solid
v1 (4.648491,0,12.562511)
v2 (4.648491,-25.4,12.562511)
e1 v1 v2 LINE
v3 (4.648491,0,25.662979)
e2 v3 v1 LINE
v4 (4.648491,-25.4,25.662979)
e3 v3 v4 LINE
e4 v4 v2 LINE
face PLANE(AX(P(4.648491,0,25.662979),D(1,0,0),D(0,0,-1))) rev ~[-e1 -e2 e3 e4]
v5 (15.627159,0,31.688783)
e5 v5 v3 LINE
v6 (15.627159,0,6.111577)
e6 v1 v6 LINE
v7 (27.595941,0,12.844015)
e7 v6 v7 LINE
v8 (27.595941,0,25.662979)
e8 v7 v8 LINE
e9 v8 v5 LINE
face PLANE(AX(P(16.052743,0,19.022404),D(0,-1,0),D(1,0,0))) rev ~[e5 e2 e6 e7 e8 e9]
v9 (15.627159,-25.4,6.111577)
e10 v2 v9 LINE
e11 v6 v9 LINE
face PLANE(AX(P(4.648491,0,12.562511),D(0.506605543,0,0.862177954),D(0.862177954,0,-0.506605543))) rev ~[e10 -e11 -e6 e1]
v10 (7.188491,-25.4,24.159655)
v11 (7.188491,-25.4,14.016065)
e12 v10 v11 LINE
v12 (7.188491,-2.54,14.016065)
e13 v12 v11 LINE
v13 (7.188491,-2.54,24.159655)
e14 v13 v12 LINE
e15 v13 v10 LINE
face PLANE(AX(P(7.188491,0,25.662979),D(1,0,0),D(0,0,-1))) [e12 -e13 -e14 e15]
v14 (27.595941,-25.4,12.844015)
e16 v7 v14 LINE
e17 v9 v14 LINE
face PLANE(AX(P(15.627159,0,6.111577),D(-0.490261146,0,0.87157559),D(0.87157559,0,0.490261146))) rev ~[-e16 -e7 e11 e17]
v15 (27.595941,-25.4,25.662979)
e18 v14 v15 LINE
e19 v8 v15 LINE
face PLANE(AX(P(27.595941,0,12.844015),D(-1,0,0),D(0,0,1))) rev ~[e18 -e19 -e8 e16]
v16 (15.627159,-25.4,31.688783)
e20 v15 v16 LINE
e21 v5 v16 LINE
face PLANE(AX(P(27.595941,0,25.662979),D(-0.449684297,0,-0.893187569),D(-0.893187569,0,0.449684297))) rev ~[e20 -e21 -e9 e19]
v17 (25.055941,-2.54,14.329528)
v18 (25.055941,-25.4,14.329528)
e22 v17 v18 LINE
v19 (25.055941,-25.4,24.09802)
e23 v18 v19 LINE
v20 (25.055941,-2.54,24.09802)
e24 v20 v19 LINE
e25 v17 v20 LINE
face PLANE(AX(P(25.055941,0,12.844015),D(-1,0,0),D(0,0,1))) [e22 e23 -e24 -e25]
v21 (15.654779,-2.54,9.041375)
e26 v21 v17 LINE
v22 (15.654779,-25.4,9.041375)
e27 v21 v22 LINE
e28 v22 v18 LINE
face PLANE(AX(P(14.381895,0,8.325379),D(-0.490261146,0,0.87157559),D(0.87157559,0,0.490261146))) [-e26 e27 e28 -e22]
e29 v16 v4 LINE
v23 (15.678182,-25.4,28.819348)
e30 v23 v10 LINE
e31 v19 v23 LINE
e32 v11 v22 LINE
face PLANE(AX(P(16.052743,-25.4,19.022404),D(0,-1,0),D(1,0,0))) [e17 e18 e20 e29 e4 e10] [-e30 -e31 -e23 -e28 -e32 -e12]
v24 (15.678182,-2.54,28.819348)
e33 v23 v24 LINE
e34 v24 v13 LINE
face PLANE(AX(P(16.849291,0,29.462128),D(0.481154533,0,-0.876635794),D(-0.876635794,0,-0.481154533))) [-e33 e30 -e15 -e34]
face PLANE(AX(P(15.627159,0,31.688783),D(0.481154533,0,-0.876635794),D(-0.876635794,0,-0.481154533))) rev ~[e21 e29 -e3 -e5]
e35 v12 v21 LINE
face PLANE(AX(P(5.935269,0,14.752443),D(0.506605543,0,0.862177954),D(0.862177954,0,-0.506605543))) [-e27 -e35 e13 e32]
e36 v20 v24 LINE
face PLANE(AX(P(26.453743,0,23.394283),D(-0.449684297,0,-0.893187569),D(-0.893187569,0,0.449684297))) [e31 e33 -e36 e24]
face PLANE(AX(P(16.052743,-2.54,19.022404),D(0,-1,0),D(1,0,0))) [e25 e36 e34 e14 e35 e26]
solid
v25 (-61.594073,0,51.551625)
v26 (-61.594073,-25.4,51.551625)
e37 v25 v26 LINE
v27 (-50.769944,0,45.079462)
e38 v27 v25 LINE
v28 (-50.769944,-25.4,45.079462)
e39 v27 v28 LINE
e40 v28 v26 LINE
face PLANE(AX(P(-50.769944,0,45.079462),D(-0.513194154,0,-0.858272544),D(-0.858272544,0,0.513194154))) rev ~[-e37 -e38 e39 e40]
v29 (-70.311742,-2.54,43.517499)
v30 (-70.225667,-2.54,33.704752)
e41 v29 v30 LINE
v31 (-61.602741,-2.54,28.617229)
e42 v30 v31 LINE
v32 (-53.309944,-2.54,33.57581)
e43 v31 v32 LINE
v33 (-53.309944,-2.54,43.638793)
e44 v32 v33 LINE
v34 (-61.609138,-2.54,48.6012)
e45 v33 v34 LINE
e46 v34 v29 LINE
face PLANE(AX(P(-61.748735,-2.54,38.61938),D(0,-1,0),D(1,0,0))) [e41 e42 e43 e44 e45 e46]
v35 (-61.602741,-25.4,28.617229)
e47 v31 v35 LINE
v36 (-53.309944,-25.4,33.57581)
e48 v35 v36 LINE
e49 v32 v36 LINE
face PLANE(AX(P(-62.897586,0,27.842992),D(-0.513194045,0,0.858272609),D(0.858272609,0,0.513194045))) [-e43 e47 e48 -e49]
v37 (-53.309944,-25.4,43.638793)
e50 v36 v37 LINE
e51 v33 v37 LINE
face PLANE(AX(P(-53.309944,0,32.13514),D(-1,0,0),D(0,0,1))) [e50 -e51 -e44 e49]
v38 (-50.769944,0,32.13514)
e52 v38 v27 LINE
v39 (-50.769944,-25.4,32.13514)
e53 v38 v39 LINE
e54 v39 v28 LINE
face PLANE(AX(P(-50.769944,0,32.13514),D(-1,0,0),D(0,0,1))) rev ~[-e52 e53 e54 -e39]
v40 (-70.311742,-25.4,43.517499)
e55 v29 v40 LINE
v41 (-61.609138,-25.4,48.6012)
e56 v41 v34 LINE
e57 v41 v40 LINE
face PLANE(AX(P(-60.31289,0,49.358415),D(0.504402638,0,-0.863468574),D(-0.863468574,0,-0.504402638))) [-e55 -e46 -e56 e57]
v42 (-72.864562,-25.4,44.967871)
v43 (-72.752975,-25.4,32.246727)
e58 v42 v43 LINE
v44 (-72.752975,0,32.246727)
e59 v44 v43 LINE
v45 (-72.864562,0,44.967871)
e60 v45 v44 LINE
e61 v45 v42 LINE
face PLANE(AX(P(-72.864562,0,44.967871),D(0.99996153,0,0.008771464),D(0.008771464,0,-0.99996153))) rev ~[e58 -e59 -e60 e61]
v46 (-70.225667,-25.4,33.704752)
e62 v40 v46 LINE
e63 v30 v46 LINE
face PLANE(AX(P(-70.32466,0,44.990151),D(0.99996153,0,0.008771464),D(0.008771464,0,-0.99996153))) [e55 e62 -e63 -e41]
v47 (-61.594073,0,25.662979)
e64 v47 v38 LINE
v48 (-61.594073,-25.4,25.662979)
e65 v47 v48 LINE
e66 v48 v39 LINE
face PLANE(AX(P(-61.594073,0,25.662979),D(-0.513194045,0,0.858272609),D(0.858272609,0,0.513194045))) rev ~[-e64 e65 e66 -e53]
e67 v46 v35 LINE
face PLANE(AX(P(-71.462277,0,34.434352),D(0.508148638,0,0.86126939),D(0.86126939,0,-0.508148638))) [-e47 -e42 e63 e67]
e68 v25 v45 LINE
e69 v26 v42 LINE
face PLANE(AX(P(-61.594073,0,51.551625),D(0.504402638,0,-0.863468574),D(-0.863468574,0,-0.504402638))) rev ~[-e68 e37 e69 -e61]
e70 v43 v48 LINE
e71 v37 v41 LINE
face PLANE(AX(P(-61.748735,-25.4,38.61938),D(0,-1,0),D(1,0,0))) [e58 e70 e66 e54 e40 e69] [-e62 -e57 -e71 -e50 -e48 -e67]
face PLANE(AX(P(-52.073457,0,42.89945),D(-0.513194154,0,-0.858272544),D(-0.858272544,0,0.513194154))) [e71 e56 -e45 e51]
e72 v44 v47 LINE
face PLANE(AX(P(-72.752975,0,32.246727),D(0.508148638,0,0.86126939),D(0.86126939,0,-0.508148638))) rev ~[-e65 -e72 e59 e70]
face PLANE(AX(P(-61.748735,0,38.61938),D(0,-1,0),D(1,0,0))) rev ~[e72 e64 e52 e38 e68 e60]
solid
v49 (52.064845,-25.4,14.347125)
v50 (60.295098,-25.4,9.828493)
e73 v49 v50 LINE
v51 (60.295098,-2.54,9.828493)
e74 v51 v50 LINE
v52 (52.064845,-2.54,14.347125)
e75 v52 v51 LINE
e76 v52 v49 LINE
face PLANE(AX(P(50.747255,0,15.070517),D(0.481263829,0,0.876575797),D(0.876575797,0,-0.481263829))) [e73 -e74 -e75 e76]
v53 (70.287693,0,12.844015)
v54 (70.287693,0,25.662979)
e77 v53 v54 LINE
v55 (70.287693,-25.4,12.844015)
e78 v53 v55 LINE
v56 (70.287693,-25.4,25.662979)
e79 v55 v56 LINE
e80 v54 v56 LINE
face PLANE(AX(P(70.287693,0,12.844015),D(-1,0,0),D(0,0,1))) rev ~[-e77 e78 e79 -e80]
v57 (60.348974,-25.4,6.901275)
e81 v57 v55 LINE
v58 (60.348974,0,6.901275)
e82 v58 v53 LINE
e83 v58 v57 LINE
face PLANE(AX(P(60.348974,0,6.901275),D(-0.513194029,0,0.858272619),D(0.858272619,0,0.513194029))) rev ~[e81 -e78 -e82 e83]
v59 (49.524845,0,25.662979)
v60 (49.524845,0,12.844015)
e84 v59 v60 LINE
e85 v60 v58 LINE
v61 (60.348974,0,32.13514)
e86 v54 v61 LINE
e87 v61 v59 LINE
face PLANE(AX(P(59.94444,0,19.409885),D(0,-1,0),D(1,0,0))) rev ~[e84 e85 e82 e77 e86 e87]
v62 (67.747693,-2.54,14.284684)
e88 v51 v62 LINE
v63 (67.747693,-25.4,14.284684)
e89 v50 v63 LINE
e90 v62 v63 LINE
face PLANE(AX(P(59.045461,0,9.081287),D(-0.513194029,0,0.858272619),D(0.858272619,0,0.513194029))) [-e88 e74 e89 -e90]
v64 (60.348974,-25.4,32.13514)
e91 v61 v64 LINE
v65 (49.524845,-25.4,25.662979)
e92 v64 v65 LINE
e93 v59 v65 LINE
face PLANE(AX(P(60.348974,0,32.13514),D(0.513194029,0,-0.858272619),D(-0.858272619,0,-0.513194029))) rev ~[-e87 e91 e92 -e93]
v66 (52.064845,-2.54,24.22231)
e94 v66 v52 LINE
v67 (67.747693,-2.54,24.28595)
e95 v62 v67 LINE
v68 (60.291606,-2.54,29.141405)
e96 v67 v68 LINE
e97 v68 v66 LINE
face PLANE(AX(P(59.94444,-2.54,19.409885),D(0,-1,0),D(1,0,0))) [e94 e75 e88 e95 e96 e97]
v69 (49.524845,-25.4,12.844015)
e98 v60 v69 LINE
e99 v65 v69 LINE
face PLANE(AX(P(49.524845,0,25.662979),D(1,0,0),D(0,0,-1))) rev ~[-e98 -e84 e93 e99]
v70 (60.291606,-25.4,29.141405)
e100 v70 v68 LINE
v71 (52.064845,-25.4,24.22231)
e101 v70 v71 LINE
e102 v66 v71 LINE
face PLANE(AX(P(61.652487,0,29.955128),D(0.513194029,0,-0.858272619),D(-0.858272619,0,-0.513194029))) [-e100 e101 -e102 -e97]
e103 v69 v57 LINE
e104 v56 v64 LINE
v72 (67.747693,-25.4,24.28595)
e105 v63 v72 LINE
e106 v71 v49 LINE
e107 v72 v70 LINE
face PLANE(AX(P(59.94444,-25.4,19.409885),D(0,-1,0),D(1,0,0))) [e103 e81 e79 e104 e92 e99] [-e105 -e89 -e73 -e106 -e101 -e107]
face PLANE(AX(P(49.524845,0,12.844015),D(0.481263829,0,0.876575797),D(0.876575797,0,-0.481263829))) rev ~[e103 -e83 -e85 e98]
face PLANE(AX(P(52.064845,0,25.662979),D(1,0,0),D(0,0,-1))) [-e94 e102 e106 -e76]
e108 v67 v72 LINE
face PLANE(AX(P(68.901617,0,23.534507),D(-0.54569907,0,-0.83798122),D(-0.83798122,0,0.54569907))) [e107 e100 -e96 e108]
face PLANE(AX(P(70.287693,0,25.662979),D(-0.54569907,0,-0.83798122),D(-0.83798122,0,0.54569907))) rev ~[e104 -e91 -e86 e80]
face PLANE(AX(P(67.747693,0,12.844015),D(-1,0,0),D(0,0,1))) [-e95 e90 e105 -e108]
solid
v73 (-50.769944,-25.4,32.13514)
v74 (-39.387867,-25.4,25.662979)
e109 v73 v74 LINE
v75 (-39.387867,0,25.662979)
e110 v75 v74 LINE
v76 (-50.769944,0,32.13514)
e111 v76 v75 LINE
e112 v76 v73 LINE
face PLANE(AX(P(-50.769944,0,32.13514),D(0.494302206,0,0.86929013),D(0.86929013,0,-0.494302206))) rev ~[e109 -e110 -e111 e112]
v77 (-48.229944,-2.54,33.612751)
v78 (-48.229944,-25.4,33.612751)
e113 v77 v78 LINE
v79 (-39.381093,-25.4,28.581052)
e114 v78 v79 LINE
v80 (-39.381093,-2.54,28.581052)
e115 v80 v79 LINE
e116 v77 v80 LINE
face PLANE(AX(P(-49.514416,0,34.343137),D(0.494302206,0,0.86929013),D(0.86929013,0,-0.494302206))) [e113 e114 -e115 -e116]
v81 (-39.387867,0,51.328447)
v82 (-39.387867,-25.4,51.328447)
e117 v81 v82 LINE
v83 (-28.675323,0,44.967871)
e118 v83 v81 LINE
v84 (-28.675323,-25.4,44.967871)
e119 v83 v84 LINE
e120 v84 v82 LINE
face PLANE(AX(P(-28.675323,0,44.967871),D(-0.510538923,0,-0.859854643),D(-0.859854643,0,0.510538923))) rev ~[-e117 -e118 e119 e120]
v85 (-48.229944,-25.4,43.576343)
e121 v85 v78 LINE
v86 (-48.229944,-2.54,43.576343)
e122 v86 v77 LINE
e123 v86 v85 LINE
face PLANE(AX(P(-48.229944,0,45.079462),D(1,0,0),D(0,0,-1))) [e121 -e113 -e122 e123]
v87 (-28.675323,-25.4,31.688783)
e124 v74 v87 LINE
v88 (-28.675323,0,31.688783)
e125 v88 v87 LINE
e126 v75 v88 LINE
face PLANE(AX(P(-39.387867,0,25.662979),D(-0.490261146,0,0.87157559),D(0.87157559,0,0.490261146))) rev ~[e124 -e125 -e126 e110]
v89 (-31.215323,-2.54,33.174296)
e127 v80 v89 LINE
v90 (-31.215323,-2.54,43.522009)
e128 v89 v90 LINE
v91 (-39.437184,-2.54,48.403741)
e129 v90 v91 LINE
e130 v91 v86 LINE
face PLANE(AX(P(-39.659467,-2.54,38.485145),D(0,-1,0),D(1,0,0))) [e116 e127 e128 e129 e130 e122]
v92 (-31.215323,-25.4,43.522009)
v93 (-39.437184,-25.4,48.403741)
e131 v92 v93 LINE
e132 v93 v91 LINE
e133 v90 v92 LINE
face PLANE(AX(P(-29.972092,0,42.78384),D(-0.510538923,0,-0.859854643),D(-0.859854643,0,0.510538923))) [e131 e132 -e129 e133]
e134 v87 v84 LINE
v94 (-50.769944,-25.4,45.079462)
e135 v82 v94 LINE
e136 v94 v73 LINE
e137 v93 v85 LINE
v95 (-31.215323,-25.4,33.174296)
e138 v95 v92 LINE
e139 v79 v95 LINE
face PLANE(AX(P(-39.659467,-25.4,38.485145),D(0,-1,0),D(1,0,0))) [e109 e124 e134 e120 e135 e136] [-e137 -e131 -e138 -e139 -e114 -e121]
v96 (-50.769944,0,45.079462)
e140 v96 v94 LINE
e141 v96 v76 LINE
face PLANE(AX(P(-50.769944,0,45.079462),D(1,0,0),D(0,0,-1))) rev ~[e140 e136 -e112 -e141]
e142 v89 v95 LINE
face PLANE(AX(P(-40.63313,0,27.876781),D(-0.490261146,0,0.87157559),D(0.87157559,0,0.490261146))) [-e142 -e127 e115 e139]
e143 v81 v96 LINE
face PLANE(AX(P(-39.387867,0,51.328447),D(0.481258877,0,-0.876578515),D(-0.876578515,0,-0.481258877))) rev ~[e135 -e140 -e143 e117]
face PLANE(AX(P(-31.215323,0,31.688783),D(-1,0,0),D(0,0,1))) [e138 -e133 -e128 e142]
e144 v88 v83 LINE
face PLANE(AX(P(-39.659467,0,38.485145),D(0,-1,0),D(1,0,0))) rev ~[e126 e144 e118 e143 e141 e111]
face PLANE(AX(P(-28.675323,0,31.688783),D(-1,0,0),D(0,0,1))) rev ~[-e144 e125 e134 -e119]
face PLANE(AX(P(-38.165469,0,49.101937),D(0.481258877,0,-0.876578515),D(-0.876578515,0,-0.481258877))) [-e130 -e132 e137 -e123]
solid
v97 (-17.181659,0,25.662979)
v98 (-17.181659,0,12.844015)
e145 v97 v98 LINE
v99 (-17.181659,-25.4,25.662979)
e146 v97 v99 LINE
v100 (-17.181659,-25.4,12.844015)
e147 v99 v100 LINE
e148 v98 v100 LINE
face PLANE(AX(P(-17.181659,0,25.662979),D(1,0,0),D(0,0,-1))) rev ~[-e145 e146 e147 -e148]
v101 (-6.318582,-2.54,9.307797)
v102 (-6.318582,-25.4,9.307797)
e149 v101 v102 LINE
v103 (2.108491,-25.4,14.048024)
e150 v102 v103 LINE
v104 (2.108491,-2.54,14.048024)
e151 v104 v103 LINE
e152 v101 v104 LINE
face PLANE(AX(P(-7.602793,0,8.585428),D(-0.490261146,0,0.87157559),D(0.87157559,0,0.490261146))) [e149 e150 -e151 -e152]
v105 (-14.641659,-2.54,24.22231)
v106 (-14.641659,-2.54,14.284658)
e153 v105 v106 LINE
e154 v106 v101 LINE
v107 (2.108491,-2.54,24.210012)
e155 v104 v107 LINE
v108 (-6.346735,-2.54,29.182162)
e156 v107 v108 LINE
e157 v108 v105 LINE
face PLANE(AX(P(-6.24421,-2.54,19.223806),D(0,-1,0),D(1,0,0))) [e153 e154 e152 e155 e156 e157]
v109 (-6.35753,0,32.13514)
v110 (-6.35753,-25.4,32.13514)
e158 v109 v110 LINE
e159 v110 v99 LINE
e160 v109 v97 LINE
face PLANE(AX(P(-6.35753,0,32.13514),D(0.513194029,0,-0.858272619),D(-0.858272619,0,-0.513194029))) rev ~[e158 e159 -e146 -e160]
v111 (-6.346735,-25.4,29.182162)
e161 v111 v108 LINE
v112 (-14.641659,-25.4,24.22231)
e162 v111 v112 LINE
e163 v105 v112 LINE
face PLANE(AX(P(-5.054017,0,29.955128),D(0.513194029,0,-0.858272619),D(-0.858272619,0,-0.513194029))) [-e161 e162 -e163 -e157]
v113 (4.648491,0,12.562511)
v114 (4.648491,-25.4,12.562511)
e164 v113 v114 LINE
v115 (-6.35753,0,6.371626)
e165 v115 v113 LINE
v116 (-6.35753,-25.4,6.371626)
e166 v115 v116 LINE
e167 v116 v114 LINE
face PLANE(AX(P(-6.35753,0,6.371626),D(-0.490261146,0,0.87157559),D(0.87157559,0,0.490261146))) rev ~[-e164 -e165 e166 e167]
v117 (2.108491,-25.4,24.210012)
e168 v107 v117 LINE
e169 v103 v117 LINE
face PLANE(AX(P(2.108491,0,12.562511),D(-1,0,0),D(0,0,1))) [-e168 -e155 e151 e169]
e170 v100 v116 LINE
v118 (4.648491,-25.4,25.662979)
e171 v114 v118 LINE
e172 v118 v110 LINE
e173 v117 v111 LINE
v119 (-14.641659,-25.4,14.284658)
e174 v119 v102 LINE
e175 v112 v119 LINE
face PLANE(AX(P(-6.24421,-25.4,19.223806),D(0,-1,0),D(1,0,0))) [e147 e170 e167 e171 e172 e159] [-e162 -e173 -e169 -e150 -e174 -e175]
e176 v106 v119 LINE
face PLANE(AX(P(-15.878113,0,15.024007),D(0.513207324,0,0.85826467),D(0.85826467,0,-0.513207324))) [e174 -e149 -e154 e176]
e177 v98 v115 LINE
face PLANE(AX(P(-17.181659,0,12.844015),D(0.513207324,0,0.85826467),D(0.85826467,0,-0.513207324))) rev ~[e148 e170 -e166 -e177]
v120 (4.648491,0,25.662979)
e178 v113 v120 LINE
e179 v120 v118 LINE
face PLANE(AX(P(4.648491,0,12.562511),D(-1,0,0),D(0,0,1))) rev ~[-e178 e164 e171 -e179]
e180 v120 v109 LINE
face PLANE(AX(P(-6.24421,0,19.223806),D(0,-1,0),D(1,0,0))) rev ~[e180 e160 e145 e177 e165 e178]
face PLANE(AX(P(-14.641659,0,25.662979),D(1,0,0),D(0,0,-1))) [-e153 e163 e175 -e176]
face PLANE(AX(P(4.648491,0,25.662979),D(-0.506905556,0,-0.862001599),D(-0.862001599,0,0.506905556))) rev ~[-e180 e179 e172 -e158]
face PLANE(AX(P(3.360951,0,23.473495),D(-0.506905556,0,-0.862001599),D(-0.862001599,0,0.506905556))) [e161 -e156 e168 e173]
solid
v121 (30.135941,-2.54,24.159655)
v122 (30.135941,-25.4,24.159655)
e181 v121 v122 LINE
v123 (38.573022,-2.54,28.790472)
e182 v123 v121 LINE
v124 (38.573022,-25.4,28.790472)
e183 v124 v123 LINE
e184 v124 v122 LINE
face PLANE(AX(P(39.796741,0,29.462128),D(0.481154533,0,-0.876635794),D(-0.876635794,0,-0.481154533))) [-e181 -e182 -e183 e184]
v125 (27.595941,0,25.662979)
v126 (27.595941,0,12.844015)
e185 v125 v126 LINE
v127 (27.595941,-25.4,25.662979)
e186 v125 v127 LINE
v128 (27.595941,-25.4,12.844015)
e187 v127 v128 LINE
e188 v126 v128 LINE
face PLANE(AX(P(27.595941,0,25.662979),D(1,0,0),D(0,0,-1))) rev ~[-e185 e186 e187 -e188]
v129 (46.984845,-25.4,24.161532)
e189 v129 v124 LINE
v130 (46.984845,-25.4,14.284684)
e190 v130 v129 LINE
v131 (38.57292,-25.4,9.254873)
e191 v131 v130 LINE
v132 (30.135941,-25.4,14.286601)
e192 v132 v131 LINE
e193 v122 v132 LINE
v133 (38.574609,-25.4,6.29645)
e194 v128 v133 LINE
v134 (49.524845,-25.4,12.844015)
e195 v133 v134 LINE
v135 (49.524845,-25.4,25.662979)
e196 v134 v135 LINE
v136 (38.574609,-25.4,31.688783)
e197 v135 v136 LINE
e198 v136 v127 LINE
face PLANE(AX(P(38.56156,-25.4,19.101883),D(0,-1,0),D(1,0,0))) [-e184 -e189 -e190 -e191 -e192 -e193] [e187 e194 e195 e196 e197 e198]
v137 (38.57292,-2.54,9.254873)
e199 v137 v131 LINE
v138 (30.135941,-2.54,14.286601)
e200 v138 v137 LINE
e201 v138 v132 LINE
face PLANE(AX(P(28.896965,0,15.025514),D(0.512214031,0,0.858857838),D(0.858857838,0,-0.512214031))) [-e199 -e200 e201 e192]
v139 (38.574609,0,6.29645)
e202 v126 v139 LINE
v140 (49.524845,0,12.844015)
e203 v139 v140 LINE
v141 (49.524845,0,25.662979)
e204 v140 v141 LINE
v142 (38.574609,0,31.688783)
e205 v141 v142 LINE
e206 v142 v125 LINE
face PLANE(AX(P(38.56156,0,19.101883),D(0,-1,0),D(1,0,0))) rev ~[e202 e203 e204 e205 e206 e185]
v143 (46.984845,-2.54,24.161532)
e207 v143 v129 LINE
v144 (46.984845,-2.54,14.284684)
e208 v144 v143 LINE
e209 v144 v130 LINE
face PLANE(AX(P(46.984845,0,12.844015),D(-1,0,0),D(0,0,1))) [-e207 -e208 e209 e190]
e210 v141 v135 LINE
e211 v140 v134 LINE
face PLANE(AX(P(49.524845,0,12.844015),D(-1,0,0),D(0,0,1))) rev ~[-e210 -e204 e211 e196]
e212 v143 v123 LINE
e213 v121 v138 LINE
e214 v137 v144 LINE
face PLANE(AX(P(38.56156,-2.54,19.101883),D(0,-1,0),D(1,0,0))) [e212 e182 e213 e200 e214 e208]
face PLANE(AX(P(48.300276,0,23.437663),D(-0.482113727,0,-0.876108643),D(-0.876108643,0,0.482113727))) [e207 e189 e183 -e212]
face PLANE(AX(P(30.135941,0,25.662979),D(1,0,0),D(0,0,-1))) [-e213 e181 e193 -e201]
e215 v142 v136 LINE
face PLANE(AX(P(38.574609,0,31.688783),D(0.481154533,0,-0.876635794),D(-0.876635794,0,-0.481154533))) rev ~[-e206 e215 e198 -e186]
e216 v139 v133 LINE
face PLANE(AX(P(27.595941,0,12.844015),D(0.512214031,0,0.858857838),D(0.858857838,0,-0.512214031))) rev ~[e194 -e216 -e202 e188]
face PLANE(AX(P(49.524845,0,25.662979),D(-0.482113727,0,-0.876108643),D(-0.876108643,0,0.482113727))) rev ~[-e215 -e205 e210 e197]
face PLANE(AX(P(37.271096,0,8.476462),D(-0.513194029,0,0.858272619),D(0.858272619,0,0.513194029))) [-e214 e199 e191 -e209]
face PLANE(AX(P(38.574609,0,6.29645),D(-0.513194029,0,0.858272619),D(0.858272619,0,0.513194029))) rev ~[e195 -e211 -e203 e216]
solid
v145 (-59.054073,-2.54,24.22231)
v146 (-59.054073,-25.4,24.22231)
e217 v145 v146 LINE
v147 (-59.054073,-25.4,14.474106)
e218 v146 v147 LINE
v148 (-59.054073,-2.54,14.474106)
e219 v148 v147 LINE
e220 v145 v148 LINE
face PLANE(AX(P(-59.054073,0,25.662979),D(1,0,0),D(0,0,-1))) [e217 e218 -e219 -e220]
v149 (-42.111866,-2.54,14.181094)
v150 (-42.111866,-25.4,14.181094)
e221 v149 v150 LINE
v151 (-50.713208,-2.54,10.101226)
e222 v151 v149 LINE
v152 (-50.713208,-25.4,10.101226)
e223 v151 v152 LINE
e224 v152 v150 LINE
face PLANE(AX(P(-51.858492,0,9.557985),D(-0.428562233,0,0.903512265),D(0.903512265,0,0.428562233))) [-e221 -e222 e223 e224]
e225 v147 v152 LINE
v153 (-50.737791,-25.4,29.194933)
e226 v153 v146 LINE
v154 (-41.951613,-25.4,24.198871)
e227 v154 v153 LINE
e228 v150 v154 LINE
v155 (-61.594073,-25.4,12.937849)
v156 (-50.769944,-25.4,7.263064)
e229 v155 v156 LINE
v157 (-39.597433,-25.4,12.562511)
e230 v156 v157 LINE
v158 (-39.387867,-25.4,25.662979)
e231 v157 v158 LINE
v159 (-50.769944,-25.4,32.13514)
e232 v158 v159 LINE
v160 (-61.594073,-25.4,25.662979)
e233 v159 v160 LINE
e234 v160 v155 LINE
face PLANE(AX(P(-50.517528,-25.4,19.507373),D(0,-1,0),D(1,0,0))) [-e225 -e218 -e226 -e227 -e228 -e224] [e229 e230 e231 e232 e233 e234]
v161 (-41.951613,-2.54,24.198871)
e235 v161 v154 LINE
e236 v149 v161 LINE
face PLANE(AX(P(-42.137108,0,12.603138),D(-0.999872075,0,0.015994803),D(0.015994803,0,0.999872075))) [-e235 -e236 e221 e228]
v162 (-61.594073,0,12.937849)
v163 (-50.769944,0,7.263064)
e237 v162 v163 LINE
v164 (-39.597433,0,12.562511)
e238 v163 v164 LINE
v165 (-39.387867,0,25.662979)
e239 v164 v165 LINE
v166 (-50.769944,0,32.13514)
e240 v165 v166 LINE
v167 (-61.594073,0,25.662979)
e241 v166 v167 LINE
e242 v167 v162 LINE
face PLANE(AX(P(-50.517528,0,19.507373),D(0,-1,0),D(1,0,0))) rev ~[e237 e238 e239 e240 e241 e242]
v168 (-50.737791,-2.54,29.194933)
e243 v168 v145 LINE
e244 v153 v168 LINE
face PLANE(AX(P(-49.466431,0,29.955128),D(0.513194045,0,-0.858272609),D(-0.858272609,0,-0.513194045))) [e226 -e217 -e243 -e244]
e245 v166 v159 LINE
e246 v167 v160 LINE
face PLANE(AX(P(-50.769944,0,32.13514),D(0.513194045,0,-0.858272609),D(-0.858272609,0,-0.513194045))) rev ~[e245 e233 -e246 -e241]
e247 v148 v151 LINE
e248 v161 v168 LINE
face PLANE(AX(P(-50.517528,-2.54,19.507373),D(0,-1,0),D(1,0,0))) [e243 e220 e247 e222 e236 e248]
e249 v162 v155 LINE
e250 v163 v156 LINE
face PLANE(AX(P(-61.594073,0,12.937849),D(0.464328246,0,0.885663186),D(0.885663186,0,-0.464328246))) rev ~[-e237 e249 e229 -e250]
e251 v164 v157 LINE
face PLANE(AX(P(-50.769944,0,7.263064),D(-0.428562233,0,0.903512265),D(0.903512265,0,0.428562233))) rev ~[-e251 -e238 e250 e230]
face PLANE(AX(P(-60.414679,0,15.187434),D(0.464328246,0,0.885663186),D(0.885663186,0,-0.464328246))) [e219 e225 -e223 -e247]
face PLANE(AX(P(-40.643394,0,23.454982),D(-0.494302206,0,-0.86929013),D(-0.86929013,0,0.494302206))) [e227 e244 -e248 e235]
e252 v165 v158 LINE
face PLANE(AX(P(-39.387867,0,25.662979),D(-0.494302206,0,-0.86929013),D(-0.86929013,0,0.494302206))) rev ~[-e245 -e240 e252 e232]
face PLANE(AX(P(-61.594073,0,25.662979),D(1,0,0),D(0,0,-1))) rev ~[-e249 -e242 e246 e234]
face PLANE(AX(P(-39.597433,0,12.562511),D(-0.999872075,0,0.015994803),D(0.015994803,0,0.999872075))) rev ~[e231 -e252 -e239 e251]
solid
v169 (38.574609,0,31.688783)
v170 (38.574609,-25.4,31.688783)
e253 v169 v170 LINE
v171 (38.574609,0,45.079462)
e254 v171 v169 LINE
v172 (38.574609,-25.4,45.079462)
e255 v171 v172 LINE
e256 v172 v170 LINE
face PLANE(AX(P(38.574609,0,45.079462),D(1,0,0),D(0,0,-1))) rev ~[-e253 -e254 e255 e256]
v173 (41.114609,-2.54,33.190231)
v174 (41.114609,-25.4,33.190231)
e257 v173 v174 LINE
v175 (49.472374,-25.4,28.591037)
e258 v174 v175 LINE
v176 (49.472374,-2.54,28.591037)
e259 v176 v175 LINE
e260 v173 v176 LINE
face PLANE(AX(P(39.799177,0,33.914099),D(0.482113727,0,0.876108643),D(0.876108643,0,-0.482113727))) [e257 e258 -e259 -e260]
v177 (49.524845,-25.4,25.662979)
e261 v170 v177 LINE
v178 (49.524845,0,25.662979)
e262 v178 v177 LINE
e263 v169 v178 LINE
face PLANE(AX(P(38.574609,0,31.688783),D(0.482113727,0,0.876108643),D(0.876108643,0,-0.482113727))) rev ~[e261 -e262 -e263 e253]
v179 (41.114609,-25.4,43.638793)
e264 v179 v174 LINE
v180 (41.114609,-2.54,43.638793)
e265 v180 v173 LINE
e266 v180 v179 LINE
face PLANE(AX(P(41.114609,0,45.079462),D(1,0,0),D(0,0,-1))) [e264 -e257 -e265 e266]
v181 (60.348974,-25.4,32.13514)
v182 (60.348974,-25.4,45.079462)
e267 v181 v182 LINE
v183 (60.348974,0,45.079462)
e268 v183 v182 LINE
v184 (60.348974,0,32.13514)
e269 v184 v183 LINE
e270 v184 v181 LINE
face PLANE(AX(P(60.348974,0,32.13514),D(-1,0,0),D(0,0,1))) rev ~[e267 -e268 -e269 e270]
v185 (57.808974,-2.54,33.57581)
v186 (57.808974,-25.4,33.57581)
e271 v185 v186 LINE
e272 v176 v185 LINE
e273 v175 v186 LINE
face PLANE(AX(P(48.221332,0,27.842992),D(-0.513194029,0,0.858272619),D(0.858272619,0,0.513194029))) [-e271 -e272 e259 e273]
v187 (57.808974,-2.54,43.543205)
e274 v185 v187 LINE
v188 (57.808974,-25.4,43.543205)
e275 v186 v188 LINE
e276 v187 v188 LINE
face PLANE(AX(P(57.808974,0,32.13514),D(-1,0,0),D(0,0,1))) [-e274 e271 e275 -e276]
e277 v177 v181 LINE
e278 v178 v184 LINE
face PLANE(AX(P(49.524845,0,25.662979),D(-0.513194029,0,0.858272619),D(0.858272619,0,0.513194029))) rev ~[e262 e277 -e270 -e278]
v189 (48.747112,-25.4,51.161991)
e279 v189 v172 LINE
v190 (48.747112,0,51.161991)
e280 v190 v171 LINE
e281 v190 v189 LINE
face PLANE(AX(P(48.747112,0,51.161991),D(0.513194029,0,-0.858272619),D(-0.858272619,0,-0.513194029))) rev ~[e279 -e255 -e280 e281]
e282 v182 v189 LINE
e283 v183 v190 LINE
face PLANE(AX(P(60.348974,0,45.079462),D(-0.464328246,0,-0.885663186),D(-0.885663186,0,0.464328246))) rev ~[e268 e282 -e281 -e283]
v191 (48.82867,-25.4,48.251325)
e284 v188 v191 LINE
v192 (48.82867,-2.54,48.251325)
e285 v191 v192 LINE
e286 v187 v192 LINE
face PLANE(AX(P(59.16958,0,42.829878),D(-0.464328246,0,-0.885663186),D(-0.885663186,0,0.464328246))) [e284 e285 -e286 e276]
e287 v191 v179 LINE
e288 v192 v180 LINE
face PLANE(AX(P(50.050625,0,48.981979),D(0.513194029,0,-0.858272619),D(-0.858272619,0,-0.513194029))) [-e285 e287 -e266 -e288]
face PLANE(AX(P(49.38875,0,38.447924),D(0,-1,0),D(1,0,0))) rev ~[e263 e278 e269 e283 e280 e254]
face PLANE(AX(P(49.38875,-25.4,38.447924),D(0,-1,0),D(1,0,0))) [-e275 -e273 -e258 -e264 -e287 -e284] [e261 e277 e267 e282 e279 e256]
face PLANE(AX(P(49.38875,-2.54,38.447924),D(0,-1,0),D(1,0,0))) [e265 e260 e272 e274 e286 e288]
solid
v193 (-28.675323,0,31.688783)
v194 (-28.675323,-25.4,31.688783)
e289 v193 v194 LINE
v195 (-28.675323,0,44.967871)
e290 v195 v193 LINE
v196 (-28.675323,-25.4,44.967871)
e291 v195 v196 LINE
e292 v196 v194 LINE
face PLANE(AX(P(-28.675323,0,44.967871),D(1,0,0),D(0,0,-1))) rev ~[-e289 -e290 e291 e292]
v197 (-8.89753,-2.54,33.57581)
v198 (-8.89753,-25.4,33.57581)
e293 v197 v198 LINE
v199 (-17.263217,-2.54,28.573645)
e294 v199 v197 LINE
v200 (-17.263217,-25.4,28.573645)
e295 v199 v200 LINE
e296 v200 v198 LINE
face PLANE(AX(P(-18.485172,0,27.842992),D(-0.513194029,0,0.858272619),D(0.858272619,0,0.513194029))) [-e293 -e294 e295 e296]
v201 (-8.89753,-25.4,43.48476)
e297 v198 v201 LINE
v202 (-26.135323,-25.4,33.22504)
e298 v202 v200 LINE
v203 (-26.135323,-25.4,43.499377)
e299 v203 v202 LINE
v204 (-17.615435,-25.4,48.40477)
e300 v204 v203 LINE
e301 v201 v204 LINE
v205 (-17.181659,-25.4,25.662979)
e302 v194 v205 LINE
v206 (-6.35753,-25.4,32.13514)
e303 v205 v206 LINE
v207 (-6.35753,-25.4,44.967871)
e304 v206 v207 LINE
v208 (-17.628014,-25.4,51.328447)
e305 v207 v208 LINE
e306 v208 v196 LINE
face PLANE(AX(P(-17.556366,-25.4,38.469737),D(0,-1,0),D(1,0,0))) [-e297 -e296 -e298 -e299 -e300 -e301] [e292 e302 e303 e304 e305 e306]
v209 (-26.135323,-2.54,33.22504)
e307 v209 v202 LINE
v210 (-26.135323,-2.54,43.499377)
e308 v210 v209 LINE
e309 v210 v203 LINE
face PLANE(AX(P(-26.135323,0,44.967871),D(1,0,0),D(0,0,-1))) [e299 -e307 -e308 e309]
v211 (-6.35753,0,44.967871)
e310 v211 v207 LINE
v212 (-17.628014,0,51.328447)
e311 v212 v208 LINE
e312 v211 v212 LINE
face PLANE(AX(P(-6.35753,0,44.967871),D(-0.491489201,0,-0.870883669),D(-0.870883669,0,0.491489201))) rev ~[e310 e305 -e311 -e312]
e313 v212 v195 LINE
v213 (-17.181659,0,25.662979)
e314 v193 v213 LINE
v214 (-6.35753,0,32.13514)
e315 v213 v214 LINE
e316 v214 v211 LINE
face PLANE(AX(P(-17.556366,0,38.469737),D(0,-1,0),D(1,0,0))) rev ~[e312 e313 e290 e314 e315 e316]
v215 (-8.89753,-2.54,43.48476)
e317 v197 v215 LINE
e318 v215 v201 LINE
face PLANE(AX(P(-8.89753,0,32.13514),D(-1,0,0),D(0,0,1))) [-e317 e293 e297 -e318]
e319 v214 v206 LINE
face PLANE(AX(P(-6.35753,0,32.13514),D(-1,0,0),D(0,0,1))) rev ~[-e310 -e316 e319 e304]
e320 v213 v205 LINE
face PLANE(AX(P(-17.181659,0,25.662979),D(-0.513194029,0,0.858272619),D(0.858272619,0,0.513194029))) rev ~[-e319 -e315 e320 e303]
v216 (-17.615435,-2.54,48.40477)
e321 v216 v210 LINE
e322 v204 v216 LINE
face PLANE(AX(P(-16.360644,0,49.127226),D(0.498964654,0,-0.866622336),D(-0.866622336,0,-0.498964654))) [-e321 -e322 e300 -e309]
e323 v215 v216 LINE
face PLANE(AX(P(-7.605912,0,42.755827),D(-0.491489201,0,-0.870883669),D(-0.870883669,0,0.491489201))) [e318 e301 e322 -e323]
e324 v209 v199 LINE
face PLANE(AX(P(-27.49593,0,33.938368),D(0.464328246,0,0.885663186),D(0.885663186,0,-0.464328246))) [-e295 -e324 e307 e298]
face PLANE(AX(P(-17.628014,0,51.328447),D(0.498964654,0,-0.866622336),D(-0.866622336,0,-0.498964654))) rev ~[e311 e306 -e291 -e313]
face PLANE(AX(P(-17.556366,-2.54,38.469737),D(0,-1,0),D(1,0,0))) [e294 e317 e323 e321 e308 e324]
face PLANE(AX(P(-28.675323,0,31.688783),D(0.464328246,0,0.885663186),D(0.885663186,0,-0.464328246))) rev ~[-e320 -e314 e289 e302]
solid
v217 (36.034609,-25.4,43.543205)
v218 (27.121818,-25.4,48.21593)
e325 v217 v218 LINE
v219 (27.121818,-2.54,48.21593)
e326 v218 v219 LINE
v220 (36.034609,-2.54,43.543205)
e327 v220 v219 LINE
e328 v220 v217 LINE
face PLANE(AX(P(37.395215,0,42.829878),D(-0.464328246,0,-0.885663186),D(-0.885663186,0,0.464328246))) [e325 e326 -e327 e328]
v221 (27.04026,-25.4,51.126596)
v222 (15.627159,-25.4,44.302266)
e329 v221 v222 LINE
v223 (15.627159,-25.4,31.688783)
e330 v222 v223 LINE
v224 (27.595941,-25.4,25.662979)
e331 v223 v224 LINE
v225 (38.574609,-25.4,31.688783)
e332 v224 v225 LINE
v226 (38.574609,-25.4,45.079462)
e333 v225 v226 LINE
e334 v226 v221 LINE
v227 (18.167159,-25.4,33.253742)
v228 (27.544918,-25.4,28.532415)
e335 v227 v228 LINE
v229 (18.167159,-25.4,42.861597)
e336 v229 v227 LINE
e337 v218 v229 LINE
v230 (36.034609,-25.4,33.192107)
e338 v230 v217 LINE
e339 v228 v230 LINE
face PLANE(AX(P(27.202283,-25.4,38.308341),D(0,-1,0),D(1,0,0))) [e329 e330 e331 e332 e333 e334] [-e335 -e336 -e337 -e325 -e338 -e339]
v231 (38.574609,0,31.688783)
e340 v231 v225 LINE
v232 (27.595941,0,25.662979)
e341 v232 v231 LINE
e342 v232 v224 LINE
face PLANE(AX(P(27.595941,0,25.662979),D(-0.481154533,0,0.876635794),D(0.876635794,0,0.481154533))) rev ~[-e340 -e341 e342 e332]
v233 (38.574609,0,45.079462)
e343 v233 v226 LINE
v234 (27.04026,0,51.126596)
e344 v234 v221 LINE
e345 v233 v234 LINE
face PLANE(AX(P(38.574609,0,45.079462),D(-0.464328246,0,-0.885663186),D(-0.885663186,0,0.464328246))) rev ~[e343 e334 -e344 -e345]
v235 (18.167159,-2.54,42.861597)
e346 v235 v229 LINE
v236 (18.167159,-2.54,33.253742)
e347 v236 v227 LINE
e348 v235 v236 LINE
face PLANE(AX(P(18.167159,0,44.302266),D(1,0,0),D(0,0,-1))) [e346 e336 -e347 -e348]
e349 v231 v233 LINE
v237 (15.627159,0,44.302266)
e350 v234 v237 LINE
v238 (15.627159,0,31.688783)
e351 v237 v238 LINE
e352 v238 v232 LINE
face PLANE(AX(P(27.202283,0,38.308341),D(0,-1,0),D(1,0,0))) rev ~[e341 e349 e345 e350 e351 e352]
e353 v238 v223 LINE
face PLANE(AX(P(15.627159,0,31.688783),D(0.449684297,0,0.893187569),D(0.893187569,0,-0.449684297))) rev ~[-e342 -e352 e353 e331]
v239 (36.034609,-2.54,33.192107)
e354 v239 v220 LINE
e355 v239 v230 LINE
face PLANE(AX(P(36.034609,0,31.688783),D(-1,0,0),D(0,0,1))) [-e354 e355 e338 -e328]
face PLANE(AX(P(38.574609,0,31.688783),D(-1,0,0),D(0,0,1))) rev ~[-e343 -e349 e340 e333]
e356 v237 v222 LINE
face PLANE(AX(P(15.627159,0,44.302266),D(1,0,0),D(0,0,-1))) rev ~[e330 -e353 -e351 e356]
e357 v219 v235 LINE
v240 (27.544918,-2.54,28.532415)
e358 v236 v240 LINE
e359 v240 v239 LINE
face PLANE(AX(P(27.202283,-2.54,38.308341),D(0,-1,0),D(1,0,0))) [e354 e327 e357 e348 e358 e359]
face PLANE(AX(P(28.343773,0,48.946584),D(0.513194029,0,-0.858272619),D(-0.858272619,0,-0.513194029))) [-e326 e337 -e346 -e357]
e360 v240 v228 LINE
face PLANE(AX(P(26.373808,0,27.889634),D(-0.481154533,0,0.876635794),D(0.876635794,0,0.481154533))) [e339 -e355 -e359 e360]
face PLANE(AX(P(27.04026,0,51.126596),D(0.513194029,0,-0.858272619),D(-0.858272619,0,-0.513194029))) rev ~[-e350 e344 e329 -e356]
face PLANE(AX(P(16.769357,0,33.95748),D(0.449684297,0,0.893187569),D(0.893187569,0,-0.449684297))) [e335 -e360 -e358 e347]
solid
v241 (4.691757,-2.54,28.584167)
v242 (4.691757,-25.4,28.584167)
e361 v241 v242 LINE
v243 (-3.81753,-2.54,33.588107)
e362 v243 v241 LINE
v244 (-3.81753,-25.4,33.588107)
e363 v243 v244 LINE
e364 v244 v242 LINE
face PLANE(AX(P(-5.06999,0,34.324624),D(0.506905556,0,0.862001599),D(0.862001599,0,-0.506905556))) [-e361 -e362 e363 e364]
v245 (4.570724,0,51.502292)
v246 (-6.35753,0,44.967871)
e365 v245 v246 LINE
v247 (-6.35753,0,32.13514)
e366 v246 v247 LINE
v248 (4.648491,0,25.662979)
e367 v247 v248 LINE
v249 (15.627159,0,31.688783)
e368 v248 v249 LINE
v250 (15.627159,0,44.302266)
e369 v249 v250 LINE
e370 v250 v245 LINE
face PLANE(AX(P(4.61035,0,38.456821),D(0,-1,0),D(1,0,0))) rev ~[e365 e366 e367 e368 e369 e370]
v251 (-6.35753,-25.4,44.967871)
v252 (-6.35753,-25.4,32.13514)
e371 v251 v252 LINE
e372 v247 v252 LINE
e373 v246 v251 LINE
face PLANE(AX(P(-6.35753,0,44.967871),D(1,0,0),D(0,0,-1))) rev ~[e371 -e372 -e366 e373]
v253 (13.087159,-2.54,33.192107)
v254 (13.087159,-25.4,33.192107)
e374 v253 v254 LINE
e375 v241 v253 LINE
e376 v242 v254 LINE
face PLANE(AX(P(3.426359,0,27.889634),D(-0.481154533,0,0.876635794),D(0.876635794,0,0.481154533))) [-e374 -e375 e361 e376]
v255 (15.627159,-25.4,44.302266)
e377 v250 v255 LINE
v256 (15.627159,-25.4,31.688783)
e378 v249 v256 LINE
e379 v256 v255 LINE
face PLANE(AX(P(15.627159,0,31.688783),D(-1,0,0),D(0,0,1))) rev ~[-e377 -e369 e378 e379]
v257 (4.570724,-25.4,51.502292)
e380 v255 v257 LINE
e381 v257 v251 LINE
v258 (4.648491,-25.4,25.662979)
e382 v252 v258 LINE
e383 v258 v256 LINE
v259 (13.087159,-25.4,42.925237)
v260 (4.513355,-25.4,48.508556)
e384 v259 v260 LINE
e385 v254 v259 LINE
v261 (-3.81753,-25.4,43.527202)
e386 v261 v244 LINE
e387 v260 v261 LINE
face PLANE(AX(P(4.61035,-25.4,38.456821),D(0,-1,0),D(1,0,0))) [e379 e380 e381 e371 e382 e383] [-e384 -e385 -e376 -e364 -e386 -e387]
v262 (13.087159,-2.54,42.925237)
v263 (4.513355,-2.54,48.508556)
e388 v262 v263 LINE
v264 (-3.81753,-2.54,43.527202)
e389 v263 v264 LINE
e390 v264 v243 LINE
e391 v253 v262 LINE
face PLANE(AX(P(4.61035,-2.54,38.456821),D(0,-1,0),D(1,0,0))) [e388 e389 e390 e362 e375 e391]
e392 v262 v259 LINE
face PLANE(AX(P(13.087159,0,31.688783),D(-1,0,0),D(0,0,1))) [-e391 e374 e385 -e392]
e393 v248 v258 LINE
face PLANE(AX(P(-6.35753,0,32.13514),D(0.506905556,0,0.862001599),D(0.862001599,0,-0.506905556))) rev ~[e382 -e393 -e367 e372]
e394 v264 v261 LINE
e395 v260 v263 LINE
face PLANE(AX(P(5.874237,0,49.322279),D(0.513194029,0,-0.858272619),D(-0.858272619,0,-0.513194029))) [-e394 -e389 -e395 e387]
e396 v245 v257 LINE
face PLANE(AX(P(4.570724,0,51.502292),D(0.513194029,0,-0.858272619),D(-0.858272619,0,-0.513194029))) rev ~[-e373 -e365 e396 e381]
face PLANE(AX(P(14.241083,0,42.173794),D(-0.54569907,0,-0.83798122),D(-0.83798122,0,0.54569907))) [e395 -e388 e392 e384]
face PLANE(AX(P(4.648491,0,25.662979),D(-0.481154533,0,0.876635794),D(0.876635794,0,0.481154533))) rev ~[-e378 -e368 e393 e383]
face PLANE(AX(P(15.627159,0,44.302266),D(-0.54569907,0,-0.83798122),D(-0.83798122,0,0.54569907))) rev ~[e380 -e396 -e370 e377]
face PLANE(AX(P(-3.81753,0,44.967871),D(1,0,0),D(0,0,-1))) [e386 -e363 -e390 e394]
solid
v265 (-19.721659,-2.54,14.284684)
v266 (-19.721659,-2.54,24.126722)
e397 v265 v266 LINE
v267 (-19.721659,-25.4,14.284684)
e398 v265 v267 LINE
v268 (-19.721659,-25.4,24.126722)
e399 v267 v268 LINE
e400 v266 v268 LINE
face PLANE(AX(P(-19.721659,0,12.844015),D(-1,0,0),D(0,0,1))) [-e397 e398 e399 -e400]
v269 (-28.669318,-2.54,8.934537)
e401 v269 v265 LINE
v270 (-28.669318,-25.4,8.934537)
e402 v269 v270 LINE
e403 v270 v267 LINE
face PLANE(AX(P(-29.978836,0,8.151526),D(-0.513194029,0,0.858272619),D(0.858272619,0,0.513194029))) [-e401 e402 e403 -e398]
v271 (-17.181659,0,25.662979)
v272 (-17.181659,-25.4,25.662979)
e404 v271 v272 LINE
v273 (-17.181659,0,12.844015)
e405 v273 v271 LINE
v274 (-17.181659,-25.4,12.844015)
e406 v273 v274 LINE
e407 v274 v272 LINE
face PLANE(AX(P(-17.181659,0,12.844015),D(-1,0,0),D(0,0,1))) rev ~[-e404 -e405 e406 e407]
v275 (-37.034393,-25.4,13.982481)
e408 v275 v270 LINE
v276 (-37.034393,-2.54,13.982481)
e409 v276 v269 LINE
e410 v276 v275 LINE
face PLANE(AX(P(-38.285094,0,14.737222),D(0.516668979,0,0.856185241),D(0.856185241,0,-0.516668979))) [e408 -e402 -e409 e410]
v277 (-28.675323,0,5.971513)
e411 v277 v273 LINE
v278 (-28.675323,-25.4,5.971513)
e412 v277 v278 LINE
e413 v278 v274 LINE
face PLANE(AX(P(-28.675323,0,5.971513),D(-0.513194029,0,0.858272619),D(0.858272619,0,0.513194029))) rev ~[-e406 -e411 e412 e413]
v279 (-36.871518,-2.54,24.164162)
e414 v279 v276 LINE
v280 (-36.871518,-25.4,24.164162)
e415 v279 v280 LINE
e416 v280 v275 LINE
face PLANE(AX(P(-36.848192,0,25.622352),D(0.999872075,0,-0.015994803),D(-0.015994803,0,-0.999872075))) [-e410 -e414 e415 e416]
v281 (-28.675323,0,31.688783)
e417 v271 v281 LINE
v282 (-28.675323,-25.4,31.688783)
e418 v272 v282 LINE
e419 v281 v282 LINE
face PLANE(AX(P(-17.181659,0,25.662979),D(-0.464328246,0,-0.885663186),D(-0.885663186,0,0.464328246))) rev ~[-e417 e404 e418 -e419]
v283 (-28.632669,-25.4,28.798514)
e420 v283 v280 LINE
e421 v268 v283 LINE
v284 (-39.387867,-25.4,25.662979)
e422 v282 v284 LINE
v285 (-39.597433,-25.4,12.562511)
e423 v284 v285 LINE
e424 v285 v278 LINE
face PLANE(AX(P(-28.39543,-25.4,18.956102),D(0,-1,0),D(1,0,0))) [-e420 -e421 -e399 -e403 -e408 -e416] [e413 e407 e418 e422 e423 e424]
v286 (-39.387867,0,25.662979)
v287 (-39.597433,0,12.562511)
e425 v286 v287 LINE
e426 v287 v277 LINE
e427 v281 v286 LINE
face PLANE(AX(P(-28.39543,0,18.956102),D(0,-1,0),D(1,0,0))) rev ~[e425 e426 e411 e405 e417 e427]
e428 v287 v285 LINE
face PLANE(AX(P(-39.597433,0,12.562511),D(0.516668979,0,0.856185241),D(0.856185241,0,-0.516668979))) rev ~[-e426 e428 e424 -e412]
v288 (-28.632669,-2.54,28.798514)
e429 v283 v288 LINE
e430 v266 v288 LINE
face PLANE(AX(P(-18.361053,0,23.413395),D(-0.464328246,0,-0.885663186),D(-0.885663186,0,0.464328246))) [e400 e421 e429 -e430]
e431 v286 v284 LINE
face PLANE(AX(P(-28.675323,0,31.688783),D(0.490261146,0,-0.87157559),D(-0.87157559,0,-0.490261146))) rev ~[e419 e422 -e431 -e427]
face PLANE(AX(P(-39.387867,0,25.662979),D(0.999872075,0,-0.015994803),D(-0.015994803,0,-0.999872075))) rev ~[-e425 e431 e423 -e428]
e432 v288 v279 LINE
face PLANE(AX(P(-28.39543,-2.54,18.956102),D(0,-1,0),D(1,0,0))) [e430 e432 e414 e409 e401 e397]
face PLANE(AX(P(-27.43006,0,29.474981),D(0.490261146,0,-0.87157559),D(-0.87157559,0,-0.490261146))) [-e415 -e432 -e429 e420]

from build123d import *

# Parameters (mm, degrees)
F1_DEPTH = 25.4
F2_T     = -2.54
F2_2_T   = -2.54
F2_3_T   = -2.54
F2_4_T   = -2.54
F3_DEPTH = 25.4
F4_T     = -2.54
F4_2_T   = -2.54
F5_DEPTH = 25.4
F6_T     = -2.54
F6_2_T   = -2.54
F6_3_T   = -2.54
F7_DEPTH = 25.4
F8_T     = -2.54
F8_2_T   = -2.54
F8_3_T   = -2.54


with BuildPart() as f1:
    # F0 (on Front) → F1 (new body)
    with BuildSketch(Plane.XZ):
        Polygon((-61.5940727293, 51.5516251326), (-72.864562273, 44.9678711593), (-72.7529749274, 32.2467274964), (-61.5940727293, 25.6629791111), (-50.7699437439, 32.1351401508), (-50.7699437439, 45.0794622302), align=None)
    extrude(amount=F1_DEPTH)

    # F2
    f2_openings = [f1.faces().sort_by_distance(p)[0] for p in [
        (-61.74627, -25.4, 38.618194),
    ]]
    offset(amount=F2_T, openings=f2_openings)


with BuildPart() as f1b:
    # F0 (on Front) → F1, piece 2 (new body)
    with BuildSketch(Plane.XZ):
        Polygon((60.3489740883, 32.1351401508), (49.5248446372, 25.6629791111), (49.5248446372, 12.8440149128), (60.3489740883, 6.9012749916), (70.2876925175, 12.8440149128), (70.2876925175, 25.6629791111), align=None)
    extrude(amount=F1_DEPTH)

    # F2#4
    f2_4_openings = [f1b.faces().sort_by_distance(p)[0] for p in [
        (59.954413, -25.4, 19.400246),
    ]]
    offset(amount=F2_4_T, openings=f2_4_openings)


with BuildPart() as f1c:
    # F0 (on Front) → F1, piece 3 (new body)
    with BuildSketch(Plane.XZ):
        Polygon((27.0402601768, 51.1265959709), (15.6271588057, 44.3022660911), (15.6271588057, 31.6887833178), (27.5959409939, 25.6629791111), (38.5746085251, 31.6887833178), (38.5746085251, 45.0794622302), align=None)
    extrude(amount=F1_DEPTH)

    # F2#3
    f2_3_openings = [f1c.faces().sort_by_distance(p)[0] for p in [
        (27.200622, -25.4, 38.305136),
    ]]
    offset(amount=F2_3_T, openings=f2_3_openings)


with BuildPart() as f1d:
    # F0 (on Front) → F1, piece 4 (new body)
    with BuildSketch(Plane.XZ):
        Polygon((-6.3575296663, 32.1351401508), (-17.1816591173, 25.6629791111), (-17.1816591173, 12.8440149128), (-6.3575296663, 6.3716262644), (4.6484912746, 12.5625114888), (4.6484912746, 25.6629791111), align=None)
    extrude(amount=F1_DEPTH)

    # F2#2
    f2_2_openings = [f1d.faces().sort_by_distance(p)[0] for p in [
        (-6.25016, -25.4, 19.221692),
    ]]
    offset(amount=F2_2_T, openings=f2_2_openings)


with BuildPart() as f3:
    # F0 (on Front) → F3 (new body)
    with BuildSketch(Plane.XZ):
        Polygon((-39.3878668547, 51.3284467161), (-50.7699437439, 45.0794622302), (-50.7699437439, 32.1351401508), (-39.3878668547, 25.6629791111), (-28.6753233522, 31.6887833178), (-28.6753233522, 44.9678711593), align=None)
    extrude(amount=F3_DEPTH)

    # F4
    f4_openings = [f3.faces().sort_by_distance(p)[0] for p in [
        (-39.654723, -25.4, 38.484754),
    ]]
    offset(amount=F4_T, openings=f4_openings)


with BuildPart() as f3b:
    # F0 (on Front) → F3, piece 2 (new body)
    with BuildSketch(Plane.XZ):
        Polygon((4.5707236695, 51.5022918526), (-6.3575296663, 44.9678711593), (-6.3575296663, 32.1351401508), (4.6484912746, 25.6629791111), (15.6271588057, 31.6887833178), (15.6271588057, 44.3022660911), align=None)
    extrude(amount=F3_DEPTH)

    # F4#2
    f4_2_openings = [f3b.faces().sort_by_distance(p)[0] for p in [
        (4.610916, -25.4, 38.445761),
    ]]
    offset(amount=F4_2_T, openings=f4_2_openings)


with BuildPart() as f5:
    # F0 (on Front) → F5 (new body)
    with BuildSketch(Plane.XZ):
        Polygon((-17.6280140877, 51.3284467161), (-28.6753233522, 44.9678711593), (-28.6753233522, 31.6887833178), (-17.1816591173, 25.6629791111), (-6.3575296663, 32.1351401508), (-6.3575296663, 44.9678711593), align=None)
    extrude(amount=F5_DEPTH)

    # F6#2
    f6_2_openings = [f5.faces().sort_by_distance(p)[0] for p in [
        (-17.547381, -25.4, 38.46892),
    ]]
    offset(amount=F6_2_T, openings=f6_2_openings)


with BuildPart() as f5b:
    # F0 (on Front) → F5, piece 2 (new body)
    with BuildSketch(Plane.XZ):
        Polygon((-50.7699437439, 32.1351401508), (-61.5940727293, 25.6629791111), (-61.5940727293, 12.9378493875), (-50.7699437439, 7.2630636411), (-39.5974330604, 12.5625114888), (-39.3878668547, 25.6629791111), align=None)
    extrude(amount=F5_DEPTH)

    # F6
    f6_openings = [f5b.faces().sort_by_distance(p)[0] for p in [
        (-50.529505, -25.4, 19.497361),
    ]]
    offset(amount=F6_T, openings=f6_openings)


with BuildPart() as f5c:
    # F0 (on Front) → F5, piece 3 (new body)
    with BuildSketch(Plane.XZ):
        Polygon((38.5746085251, 31.6887833178), (27.5959409939, 25.6629791111), (27.5959409939, 12.8440149128), (38.5746085251, 6.2964498767), (49.5248446372, 12.8440149128), (49.5248446372, 25.6629791111), align=None)
    extrude(amount=F5_DEPTH)

    # F6#3
    f6_3_openings = [f5c.faces().sort_by_distance(p)[0] for p in [
        (38.561952, -25.4, 19.10875),
    ]]
    offset(amount=F6_3_T, openings=f6_3_openings)


with BuildPart() as f7:
    # F0 (on Front) → F7 (new body)
    with BuildSketch(Plane.XZ):
        Polygon((-28.6753233522, 31.6887833178), (-39.3878668547, 25.6629791111), (-39.5974330604, 12.5625114888), (-28.6753233522, 5.9715134151), (-17.1816591173, 12.8440149128), (-17.1816591173, 25.6629791111), align=None)
    extrude(amount=F7_DEPTH)

    # F8
    f8_openings = [f7.faces().sort_by_distance(p)[0] for p in [
        (-28.402018, -25.4, 18.967798),
    ]]
    offset(amount=F8_T, openings=f8_openings)


with BuildPart() as f7b:
    # F0 (on Front) → F7, piece 2 (new body)
    with BuildSketch(Plane.XZ):
        Polygon((15.6271588057, 31.6887833178), (4.6484912746, 25.6629791111), (4.6484912746, 12.5625114888), (15.6271588057, 6.1115766229), (27.5959409939, 12.8440149128), (27.5959409939, 25.6629791111), align=None)
    extrude(amount=F7_DEPTH)

    # F8#2
    f8_2_openings = [f7b.faces().sort_by_distance(p)[0] for p in [
        (16.040262, -25.4, 19.027382),
    ]]
    offset(amount=F8_2_T, openings=f8_2_openings)


with BuildPart() as f7c:
    # F0 (on Front) → F7, piece 3 (new body)
    with BuildSketch(Plane.XZ):
        Polygon((48.7471123109, 51.1619913589), (38.5746085251, 45.0794622302), (38.5746085251, 31.6887833178), (49.5248446372, 25.6629791111), (60.3489740883, 32.1351401508), (60.3489740883, 45.0794622302), align=None)
    extrude(amount=F7_DEPTH)

    # F8#3
    f8_3_openings = [f7c.faces().sort_by_distance(p)[0] for p in [
        (49.385824, -25.4, 38.448957),
    ]]
    offset(amount=F8_3_T, openings=f8_3_openings)


solid = Compound([f1.part, f1b.part, f1c.part, f1d.part, f3.part, f3b.part, f5.part, f5b.part, f5c.part, f7.part, f7b.part, f7c.part])
